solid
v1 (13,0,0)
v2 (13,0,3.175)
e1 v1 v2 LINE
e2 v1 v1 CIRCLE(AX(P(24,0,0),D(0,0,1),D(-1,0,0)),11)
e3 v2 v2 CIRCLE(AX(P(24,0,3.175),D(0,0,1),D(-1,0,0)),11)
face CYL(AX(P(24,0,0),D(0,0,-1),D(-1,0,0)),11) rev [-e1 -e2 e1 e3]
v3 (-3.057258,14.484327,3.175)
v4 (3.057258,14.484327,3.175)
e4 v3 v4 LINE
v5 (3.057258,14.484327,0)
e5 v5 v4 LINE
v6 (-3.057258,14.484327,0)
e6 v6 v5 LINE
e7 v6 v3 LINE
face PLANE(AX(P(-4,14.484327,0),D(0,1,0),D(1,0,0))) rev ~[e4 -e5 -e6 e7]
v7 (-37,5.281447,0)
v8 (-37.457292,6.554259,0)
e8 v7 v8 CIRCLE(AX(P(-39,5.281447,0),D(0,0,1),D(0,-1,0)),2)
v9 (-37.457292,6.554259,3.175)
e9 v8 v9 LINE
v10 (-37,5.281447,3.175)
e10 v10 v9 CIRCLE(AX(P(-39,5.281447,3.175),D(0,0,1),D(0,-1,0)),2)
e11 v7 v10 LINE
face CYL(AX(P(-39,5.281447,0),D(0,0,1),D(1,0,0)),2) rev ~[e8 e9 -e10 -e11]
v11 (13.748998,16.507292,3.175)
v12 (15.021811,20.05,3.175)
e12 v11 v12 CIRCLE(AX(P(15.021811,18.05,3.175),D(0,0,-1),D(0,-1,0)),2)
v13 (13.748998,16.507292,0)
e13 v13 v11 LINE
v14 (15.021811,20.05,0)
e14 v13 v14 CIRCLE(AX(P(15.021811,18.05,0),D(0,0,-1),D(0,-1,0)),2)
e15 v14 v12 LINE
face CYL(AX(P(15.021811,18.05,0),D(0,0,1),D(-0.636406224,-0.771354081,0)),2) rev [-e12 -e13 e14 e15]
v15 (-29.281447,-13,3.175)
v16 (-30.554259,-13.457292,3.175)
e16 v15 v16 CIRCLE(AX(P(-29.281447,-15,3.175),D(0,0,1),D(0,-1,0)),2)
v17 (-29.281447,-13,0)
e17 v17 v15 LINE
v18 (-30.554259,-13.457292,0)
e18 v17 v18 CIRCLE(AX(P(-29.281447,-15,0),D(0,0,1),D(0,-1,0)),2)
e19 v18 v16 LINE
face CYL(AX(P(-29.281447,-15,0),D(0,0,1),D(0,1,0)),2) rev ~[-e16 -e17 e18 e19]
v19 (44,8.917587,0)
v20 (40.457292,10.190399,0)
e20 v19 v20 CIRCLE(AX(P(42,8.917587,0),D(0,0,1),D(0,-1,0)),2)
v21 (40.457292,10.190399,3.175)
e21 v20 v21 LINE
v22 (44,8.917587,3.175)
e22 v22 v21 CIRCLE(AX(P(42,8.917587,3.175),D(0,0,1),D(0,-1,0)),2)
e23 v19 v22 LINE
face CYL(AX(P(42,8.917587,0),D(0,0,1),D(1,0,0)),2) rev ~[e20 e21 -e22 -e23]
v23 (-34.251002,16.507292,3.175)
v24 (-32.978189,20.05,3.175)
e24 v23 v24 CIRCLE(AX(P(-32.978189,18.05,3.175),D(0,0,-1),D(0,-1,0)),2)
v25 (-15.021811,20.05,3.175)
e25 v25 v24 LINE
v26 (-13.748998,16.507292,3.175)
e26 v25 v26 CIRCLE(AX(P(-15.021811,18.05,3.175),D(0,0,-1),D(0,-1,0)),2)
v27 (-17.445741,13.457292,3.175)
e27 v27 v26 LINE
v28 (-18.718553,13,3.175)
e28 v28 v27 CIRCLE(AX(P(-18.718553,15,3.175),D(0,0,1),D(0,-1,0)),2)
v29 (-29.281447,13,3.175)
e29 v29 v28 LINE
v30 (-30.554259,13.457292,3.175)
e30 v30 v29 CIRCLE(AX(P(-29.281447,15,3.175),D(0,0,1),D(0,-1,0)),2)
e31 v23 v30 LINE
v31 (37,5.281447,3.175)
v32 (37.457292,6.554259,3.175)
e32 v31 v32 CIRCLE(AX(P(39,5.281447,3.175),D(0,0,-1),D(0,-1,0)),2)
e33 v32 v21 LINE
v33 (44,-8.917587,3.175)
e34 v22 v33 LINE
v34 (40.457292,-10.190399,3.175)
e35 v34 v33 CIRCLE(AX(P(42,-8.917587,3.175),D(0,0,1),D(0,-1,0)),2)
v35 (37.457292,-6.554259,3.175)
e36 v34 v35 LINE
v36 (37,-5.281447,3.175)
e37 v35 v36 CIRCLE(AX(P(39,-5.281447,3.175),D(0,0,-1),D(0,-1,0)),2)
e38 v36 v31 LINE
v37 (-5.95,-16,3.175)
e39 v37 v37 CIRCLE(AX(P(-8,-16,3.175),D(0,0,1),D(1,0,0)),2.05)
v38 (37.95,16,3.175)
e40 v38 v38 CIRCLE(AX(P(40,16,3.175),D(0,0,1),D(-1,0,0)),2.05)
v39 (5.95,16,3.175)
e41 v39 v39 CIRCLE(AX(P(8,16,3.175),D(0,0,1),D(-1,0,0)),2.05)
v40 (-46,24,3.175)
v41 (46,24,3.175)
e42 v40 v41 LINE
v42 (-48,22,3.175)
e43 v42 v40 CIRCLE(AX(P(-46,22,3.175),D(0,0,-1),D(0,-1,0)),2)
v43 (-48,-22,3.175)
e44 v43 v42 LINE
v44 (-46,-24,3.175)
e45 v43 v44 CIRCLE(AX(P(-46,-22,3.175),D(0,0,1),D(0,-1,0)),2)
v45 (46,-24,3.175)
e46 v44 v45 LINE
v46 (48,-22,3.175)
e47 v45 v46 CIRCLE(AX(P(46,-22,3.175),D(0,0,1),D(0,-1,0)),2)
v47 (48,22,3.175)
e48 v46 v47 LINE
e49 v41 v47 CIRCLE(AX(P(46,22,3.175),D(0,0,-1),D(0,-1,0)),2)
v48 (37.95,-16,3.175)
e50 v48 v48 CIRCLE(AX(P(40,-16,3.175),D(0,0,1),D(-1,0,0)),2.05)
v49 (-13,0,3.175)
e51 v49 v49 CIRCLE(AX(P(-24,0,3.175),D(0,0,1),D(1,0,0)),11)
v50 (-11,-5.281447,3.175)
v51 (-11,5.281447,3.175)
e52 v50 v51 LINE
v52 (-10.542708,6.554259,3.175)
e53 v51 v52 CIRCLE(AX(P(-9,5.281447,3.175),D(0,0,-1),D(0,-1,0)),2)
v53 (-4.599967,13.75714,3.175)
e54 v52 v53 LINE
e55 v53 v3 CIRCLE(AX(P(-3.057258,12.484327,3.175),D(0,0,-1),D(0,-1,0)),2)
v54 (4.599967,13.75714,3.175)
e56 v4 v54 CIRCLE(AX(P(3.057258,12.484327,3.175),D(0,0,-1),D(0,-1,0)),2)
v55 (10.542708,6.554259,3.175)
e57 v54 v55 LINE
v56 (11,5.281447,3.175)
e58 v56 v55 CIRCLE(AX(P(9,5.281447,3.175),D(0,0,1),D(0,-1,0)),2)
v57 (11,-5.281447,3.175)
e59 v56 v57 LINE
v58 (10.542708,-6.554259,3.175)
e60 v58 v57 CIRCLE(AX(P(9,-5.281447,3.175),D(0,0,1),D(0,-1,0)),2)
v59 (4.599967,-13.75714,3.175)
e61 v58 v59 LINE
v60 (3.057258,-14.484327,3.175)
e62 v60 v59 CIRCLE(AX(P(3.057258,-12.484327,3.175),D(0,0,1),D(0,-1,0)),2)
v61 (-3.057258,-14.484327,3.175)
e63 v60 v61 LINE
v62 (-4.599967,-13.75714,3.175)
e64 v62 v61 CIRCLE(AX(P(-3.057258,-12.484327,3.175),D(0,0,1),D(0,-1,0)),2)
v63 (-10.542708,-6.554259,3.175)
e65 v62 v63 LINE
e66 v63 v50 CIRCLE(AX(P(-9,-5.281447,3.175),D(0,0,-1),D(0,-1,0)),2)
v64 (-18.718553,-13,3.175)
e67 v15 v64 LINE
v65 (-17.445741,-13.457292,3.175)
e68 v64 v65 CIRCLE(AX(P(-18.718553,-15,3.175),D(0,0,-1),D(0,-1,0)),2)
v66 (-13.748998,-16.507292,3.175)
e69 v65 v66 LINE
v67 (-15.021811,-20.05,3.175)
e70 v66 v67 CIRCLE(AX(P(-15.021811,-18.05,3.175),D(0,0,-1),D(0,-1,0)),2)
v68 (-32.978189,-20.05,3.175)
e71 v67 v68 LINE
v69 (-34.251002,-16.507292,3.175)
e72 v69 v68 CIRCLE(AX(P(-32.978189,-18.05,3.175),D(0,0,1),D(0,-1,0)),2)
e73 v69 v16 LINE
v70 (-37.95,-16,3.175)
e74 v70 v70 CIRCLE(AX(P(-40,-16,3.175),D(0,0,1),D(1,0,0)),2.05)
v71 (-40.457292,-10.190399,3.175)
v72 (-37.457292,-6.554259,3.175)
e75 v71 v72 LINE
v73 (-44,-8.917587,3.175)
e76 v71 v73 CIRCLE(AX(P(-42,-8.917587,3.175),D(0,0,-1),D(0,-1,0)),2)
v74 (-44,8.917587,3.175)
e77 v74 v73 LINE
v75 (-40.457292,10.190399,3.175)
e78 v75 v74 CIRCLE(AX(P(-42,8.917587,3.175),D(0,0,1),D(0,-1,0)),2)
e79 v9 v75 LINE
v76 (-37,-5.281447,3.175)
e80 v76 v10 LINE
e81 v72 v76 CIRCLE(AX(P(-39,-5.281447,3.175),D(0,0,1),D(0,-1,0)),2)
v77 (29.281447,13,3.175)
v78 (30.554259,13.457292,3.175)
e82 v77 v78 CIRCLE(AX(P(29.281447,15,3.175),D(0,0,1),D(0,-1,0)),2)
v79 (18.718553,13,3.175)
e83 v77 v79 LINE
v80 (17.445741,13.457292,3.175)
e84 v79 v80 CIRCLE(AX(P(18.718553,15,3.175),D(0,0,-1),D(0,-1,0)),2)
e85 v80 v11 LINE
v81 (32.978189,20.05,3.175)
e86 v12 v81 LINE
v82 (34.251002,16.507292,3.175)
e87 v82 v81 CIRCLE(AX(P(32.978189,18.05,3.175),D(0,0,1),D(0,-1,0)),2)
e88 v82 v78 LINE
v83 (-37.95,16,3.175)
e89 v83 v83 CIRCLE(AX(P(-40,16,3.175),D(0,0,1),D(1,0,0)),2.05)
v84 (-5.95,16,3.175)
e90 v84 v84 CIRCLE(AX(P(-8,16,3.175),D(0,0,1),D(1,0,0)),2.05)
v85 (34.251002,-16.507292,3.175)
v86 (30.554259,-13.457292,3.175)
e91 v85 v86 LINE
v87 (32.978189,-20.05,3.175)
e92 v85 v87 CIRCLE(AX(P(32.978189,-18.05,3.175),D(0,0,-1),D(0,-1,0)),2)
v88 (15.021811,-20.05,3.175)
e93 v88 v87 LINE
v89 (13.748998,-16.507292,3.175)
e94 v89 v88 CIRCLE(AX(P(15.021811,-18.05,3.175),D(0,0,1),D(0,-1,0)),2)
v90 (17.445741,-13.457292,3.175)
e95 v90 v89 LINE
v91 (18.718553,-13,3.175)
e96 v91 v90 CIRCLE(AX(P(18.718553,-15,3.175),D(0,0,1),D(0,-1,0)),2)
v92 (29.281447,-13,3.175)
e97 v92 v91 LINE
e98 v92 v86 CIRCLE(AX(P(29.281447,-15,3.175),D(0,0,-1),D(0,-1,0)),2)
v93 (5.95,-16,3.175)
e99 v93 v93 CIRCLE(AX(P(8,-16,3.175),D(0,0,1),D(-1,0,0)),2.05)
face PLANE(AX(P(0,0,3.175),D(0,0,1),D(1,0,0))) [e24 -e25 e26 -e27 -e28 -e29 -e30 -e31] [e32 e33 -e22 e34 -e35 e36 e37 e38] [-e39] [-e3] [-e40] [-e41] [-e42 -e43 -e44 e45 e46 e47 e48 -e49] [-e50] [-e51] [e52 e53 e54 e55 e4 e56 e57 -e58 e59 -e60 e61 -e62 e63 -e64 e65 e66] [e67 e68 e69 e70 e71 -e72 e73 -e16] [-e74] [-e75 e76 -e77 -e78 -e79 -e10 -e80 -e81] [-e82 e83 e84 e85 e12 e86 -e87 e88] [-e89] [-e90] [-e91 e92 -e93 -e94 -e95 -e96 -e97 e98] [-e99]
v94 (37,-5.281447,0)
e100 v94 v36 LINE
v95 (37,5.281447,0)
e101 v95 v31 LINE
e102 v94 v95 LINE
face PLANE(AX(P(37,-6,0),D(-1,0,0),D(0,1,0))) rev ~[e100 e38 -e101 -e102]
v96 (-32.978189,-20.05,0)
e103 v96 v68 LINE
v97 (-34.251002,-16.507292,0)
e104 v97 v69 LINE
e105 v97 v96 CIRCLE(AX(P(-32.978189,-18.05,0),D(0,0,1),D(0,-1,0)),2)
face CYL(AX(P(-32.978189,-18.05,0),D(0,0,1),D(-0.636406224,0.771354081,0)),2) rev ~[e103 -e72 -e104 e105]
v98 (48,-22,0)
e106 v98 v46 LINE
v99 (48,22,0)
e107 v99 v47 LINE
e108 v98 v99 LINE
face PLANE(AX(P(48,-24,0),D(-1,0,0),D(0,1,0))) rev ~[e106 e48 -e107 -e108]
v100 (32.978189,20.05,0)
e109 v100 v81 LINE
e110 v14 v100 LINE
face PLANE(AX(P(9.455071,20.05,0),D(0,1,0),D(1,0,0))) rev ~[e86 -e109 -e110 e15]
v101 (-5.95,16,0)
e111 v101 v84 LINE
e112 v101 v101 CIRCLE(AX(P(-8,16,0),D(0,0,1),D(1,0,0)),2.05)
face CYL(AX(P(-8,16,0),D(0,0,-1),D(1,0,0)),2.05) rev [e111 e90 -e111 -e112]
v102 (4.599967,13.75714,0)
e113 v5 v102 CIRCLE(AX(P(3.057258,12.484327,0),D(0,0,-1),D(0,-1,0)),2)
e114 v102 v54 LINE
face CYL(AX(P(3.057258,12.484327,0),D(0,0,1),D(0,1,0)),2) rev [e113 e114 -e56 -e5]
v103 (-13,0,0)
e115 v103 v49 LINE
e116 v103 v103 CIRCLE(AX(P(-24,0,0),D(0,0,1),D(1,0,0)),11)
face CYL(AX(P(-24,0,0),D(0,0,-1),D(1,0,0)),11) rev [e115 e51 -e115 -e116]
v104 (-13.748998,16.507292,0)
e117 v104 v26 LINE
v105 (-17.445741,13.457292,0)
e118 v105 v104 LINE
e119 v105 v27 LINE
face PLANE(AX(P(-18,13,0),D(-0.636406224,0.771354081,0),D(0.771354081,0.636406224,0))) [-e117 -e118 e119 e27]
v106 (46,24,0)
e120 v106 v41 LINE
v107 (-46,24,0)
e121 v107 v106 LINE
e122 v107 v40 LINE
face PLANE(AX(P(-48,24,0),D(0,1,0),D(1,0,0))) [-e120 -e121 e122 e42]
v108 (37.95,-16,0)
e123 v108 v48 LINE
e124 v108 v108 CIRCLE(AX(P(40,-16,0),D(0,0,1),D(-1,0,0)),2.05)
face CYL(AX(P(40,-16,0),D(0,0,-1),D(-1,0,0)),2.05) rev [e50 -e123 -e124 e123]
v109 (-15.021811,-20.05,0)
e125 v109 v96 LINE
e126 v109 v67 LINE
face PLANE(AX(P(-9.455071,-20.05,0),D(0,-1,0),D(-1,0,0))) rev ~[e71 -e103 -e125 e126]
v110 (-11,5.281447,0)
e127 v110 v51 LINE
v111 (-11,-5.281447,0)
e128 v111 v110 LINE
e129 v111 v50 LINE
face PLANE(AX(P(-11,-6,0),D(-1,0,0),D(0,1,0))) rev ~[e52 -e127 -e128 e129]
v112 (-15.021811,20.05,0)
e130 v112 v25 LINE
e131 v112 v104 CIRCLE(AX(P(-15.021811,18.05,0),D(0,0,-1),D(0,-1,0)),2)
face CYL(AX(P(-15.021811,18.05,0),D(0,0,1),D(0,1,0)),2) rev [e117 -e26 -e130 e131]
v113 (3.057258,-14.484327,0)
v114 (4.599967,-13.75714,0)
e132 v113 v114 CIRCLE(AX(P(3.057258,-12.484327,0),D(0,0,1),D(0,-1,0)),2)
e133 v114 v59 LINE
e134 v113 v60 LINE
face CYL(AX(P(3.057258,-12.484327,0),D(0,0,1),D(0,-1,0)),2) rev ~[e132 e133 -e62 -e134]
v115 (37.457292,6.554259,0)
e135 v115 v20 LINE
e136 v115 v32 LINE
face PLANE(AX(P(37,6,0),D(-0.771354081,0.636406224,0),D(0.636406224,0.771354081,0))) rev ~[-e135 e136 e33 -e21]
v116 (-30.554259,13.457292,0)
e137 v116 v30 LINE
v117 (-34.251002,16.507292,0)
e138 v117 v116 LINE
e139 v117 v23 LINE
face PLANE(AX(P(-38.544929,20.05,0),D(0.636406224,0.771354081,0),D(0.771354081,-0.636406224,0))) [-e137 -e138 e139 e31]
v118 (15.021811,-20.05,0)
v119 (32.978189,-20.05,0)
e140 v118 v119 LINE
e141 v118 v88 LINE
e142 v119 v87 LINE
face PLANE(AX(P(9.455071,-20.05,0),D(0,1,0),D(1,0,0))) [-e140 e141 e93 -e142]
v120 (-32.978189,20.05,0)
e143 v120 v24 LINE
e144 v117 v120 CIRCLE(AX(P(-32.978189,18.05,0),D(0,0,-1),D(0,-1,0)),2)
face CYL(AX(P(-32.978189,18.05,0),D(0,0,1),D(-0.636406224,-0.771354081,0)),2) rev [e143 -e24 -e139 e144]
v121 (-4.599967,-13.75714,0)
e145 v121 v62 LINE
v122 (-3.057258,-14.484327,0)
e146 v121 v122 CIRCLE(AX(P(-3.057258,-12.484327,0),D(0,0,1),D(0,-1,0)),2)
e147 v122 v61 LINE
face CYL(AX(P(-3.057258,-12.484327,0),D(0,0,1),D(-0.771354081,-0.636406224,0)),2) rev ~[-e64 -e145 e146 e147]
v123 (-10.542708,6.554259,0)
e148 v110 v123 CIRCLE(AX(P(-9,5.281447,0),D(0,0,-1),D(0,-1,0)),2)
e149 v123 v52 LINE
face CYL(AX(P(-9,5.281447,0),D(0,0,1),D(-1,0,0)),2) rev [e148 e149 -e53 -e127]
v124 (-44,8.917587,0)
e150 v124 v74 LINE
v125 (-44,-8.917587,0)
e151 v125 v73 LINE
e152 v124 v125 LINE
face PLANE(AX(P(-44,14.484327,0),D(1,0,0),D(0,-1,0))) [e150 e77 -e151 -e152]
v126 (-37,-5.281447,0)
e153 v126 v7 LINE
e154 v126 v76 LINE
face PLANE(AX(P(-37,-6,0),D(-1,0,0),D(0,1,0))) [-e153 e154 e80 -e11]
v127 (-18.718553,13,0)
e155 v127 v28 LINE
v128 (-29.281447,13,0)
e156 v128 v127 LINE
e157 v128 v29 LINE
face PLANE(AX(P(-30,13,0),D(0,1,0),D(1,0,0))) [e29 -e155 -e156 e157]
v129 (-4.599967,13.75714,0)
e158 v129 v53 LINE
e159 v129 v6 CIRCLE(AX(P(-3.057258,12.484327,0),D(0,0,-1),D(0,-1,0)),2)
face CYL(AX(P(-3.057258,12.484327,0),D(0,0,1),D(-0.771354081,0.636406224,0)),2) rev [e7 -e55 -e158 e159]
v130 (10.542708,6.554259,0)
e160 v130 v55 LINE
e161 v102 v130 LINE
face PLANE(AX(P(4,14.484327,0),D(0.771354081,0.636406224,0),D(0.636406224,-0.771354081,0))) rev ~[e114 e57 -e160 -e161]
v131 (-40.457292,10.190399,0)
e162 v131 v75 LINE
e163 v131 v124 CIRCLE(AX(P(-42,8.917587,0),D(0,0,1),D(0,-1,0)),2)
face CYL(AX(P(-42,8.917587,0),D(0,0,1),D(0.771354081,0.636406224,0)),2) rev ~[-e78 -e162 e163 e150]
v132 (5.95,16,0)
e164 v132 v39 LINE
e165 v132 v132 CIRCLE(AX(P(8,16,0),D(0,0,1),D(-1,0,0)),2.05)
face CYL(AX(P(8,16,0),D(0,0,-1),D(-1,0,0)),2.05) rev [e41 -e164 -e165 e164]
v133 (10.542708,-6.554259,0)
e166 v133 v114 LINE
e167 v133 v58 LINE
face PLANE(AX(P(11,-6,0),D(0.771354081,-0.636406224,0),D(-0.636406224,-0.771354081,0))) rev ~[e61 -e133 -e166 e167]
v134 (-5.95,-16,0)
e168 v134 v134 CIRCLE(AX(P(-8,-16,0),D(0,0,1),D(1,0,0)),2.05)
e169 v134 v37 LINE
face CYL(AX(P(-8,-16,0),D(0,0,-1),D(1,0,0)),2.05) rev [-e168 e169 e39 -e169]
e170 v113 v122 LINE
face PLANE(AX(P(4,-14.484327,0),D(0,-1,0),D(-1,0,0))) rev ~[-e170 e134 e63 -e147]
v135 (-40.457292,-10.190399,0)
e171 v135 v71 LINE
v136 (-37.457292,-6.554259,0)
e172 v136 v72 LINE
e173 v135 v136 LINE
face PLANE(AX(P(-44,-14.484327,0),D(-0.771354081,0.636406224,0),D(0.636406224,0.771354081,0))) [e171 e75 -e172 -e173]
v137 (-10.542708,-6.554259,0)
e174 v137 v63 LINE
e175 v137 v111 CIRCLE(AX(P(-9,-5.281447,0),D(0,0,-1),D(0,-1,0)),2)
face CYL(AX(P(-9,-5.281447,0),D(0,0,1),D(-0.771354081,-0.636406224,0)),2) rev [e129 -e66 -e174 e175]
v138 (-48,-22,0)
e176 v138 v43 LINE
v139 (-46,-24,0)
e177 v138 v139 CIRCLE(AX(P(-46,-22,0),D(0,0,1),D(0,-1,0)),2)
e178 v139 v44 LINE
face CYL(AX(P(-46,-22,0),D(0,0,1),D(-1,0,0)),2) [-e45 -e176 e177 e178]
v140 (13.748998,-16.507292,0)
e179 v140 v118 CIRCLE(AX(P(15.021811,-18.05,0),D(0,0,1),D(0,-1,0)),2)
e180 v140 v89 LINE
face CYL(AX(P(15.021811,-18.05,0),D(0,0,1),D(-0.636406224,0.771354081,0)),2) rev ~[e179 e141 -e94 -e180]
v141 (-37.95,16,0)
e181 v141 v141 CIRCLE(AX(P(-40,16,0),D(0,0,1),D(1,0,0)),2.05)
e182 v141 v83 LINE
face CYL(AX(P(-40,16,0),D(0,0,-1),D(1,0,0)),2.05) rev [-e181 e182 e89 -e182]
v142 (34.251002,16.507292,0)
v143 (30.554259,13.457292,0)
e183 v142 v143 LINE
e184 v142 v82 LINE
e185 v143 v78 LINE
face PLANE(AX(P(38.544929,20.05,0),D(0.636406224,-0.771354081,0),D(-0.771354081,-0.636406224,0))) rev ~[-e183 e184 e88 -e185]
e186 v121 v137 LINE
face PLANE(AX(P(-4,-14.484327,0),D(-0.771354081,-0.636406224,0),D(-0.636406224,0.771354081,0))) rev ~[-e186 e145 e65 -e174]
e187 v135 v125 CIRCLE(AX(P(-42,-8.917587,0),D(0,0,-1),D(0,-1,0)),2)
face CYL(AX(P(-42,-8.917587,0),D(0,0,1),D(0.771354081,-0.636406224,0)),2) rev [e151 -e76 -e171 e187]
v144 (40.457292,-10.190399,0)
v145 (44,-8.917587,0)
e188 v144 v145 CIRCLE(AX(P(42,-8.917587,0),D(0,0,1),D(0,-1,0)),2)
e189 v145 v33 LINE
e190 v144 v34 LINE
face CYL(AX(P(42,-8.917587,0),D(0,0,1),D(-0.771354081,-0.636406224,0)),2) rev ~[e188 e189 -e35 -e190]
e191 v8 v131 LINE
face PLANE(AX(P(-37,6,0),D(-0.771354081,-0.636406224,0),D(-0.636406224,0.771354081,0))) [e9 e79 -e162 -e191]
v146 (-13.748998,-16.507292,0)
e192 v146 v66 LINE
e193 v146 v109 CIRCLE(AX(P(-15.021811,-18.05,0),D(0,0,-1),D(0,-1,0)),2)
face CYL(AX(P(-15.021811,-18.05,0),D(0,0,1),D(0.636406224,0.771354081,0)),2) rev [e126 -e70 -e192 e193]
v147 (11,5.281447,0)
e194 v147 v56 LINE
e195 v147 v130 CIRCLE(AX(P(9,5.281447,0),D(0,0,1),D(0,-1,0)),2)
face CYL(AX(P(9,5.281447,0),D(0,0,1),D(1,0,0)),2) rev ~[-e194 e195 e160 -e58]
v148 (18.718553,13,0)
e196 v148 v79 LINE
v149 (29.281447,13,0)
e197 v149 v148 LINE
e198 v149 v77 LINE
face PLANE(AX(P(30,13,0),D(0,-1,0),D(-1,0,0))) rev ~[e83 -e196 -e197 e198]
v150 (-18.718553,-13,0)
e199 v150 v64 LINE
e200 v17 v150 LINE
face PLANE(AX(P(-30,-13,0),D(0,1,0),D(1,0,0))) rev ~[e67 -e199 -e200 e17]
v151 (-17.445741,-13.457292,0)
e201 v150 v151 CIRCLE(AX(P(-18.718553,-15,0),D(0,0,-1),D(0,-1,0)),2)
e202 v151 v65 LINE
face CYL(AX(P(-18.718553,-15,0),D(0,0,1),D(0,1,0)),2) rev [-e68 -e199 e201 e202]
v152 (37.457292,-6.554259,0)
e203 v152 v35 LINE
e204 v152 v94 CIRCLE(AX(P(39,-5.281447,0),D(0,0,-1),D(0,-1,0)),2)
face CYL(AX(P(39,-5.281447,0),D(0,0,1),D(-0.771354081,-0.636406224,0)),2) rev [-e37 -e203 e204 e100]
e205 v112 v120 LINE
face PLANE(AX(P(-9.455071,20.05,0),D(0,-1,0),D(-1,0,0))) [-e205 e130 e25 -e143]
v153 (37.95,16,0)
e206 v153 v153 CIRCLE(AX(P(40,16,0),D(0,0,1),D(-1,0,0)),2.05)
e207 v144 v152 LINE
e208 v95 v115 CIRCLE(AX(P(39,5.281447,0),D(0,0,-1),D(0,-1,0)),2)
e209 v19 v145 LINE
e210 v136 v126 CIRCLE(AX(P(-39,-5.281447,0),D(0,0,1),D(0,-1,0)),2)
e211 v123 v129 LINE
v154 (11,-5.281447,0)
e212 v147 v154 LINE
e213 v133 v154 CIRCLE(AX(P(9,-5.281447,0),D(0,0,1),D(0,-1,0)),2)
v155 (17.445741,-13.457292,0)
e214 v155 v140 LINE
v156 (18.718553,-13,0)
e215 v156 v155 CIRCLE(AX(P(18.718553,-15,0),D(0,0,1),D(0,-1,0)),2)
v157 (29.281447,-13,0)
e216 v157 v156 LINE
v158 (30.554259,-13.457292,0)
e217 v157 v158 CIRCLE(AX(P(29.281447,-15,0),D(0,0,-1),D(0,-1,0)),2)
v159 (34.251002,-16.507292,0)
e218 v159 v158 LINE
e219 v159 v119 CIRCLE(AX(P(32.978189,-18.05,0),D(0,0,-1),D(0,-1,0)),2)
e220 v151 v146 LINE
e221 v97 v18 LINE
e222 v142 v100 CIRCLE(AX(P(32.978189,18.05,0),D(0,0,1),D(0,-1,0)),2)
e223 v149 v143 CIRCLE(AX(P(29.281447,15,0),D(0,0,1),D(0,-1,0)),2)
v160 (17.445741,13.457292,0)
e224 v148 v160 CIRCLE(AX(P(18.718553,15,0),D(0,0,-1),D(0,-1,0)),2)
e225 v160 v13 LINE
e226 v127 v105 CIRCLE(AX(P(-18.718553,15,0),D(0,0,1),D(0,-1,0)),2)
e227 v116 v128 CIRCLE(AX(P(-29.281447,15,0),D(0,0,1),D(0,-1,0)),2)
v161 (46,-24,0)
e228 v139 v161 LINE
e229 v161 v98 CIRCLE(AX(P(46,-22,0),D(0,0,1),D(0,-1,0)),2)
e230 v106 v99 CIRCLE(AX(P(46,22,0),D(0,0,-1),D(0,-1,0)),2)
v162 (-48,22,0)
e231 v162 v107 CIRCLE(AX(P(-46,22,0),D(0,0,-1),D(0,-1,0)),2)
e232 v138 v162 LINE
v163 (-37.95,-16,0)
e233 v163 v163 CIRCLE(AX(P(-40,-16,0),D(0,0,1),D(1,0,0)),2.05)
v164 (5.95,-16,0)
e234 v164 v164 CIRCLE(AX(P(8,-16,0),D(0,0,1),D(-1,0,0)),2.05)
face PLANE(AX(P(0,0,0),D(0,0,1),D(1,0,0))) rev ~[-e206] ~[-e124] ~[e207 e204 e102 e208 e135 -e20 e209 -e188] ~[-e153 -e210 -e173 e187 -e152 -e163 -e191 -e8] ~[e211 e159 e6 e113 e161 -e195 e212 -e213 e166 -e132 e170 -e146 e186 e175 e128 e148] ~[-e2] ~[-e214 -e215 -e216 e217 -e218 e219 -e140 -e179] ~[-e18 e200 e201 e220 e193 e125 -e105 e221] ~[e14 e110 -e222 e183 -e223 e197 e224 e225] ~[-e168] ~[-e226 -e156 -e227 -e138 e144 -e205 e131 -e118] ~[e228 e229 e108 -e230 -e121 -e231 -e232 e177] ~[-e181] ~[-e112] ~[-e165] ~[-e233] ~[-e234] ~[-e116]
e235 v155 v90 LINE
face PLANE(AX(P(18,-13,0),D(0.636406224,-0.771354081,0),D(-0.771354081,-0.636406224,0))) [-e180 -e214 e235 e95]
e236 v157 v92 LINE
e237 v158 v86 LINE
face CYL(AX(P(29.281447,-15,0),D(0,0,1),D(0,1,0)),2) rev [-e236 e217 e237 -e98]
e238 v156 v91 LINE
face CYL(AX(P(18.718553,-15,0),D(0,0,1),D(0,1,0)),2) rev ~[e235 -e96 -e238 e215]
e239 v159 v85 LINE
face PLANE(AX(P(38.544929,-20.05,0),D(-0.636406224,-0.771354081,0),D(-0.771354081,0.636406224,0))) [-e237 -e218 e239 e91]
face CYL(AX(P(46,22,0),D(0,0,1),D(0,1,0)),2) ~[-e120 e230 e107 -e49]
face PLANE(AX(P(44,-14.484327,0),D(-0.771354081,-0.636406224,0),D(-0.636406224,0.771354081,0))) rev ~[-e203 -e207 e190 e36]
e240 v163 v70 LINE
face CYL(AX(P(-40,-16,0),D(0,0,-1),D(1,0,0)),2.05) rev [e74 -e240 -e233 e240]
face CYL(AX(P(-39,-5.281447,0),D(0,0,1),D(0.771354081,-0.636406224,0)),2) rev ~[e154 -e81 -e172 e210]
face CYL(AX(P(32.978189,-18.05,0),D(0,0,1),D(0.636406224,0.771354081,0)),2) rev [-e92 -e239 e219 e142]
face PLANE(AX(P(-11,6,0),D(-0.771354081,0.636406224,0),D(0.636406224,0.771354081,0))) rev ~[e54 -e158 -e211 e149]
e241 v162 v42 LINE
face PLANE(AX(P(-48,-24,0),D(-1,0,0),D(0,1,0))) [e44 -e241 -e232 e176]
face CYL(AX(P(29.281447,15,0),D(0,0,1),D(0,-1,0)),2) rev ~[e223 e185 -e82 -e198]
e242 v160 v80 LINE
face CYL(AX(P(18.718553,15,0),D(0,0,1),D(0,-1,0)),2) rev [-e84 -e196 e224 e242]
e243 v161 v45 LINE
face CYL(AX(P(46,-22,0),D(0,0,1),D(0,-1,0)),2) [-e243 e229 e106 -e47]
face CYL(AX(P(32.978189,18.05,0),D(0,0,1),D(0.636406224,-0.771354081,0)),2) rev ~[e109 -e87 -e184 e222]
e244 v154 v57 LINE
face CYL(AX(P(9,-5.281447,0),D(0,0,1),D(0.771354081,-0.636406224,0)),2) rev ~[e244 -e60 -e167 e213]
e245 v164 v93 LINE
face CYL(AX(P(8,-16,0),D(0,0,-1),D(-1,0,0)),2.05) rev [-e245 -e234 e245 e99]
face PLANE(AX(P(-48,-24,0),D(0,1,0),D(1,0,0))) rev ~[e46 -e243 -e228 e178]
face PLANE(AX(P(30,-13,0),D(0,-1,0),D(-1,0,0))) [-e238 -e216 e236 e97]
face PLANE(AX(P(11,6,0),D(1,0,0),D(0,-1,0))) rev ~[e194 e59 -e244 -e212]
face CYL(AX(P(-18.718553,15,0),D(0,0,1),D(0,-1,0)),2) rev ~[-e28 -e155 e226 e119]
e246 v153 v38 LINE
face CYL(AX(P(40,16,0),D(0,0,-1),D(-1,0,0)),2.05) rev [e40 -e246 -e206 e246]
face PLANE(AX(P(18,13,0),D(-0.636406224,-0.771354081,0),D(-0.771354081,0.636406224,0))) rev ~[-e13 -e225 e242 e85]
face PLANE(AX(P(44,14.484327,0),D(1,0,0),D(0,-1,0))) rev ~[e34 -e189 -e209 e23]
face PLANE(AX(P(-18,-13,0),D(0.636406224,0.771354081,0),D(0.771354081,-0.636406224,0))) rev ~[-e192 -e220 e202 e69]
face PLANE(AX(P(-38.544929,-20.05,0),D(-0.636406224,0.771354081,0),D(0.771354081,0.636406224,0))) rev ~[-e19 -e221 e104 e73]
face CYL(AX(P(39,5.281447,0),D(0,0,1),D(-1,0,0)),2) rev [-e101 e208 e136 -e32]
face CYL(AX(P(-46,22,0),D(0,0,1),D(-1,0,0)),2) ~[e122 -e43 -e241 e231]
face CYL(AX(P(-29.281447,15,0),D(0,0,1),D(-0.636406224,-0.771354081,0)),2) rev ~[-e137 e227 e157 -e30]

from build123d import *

# Parameters (mm, degrees)
SKETCH1_W           = 96
SKETCH1_H           = 48
SKETCH1_R           = 2.05
SKETCH1_R_2         = 11
BOSS_EXTRUDE1_DEPTH = 3.175
FILLET1_R           = 2


with BuildPart() as part:
    # Sketch1 → Boss-Extrude1 (new body)
    with BuildSketch(Plane.XY):
        Rectangle(SKETCH1_W, SKETCH1_H)
        with Locations((-40, 16)):
            Circle(SKETCH1_R, mode=Mode.SUBTRACT)
        with Locations((-8, 16)):
            Circle(SKETCH1_R, mode=Mode.SUBTRACT)
        with Locations((-8, -16)):
            Circle(SKETCH1_R, mode=Mode.SUBTRACT)
        with Locations((-40, -16)):
            Circle(SKETCH1_R, mode=Mode.SUBTRACT)
        with Locations((-24, 0)):
            Circle(SKETCH1_R_2, mode=Mode.SUBTRACT)
        with Locations(Location((8, 16, 0), (0, 0, 180))):
            Circle(SKETCH1_R, mode=Mode.SUBTRACT)
        with Locations(Location((8, -16, 0), (0, 0, 180))):
            Circle(SKETCH1_R, mode=Mode.SUBTRACT)
        with Locations(Location((40, -16, 0), (0, 0, 180))):
            Circle(SKETCH1_R, mode=Mode.SUBTRACT)
        with Locations(Location((24, 0, 0), (0, 0, 180))):
            Circle(SKETCH1_R_2, mode=Mode.SUBTRACT)
        with Locations(Location((40, 16, 0), (0, 0, 180))):
            Circle(SKETCH1_R, mode=Mode.SUBTRACT)
        Polygon((-38.544929421, 20.05), (-30, 13), (-18, 13), (-9.455070579, 20.05), align=None, mode=Mode.SUBTRACT)
        Polygon((-18, -13), (-9.455070579, -20.05), (-38.544929421, -20.05), (-30, -13), align=None, mode=Mode.SUBTRACT)
        Polygon((-11, -6), (-11, 6), (-4, 14.484327085), (4, 14.484327085), (11, 6), (11, -6), (4, -14.484327085), (-4, -14.484327085), align=None, mode=Mode.SUBTRACT)
        Polygon((30, -13), (18, -13), (9.455070579, -20.05), (38.544929421, -20.05), align=None, mode=Mode.SUBTRACT)
        Polygon((37, -6), (37, 6), (44, 14.484327085), (44, -14.484327085), align=None, mode=Mode.SUBTRACT)
        Polygon((18, 13), (9.455070579, 20.05), (38.544929421, 20.05), (30, 13), align=None, mode=Mode.SUBTRACT)
        Polygon((-44, -14.484327085), (-37, -6), (-37, 6), (-44, 14.484327085), align=None, mode=Mode.SUBTRACT)
    extrude(amount=BOSS_EXTRUDE1_DEPTH)

    # Fillet1
    fillet1_edges = [part.edges().sort_by_distance(p)[0] for p in [
        (38.544929421, -20.05, 1.5875),
        (30, -13, 1.5875),
        (18, -13, 1.5875),
        (9.455070579, -20.05, 1.5875),
        (37, -6, 1.5875),
        (44, -14.484327085, 1.5875),
        (44, 14.484327085, 1.5875),
        (37, 6, 1.5875),
        (18, 13, 1.5875),
        (30, 13, 1.5875),
        (38.544929421, 20.05, 1.5875),
        (9.455070579, 20.05, 1.5875),
        (-9.455070579, 20.05, 1.5875),
        (-38.544929421, 20.05, 1.5875),
        (-30, 13, 1.5875),
        (-18, 13, 1.5875),
        (-11, -6, 1.5875),
        (-4, -14.484327085, 1.5875),
        (4, -14.484327085, 1.5875),
        (11, -6, 1.5875),
        (11, 6, 1.5875),
        (4, 14.484327085, 1.5875),
        (-4, 14.484327085, 1.5875),
        (-11, 6, 1.5875),
        (-37, -6, 1.5875),
        (-37, 6, 1.5875),
        (-44, 14.484327085, 1.5875),
        (-44, -14.484327085, 1.5875),
        (-48, 24, 1.5875),
        (48, 24, 1.5875),
        (48, -24, 1.5875),
        (-48, -24, 1.5875),
        (-18, -13, 1.5875),
        (-30, -13, 1.5875),
        (-38.544929421, -20.05, 1.5875),
        (-9.455070579, -20.05, 1.5875),
    ]]
    fillet(fillet1_edges, radius=FILLET1_R)


solid = part.part
